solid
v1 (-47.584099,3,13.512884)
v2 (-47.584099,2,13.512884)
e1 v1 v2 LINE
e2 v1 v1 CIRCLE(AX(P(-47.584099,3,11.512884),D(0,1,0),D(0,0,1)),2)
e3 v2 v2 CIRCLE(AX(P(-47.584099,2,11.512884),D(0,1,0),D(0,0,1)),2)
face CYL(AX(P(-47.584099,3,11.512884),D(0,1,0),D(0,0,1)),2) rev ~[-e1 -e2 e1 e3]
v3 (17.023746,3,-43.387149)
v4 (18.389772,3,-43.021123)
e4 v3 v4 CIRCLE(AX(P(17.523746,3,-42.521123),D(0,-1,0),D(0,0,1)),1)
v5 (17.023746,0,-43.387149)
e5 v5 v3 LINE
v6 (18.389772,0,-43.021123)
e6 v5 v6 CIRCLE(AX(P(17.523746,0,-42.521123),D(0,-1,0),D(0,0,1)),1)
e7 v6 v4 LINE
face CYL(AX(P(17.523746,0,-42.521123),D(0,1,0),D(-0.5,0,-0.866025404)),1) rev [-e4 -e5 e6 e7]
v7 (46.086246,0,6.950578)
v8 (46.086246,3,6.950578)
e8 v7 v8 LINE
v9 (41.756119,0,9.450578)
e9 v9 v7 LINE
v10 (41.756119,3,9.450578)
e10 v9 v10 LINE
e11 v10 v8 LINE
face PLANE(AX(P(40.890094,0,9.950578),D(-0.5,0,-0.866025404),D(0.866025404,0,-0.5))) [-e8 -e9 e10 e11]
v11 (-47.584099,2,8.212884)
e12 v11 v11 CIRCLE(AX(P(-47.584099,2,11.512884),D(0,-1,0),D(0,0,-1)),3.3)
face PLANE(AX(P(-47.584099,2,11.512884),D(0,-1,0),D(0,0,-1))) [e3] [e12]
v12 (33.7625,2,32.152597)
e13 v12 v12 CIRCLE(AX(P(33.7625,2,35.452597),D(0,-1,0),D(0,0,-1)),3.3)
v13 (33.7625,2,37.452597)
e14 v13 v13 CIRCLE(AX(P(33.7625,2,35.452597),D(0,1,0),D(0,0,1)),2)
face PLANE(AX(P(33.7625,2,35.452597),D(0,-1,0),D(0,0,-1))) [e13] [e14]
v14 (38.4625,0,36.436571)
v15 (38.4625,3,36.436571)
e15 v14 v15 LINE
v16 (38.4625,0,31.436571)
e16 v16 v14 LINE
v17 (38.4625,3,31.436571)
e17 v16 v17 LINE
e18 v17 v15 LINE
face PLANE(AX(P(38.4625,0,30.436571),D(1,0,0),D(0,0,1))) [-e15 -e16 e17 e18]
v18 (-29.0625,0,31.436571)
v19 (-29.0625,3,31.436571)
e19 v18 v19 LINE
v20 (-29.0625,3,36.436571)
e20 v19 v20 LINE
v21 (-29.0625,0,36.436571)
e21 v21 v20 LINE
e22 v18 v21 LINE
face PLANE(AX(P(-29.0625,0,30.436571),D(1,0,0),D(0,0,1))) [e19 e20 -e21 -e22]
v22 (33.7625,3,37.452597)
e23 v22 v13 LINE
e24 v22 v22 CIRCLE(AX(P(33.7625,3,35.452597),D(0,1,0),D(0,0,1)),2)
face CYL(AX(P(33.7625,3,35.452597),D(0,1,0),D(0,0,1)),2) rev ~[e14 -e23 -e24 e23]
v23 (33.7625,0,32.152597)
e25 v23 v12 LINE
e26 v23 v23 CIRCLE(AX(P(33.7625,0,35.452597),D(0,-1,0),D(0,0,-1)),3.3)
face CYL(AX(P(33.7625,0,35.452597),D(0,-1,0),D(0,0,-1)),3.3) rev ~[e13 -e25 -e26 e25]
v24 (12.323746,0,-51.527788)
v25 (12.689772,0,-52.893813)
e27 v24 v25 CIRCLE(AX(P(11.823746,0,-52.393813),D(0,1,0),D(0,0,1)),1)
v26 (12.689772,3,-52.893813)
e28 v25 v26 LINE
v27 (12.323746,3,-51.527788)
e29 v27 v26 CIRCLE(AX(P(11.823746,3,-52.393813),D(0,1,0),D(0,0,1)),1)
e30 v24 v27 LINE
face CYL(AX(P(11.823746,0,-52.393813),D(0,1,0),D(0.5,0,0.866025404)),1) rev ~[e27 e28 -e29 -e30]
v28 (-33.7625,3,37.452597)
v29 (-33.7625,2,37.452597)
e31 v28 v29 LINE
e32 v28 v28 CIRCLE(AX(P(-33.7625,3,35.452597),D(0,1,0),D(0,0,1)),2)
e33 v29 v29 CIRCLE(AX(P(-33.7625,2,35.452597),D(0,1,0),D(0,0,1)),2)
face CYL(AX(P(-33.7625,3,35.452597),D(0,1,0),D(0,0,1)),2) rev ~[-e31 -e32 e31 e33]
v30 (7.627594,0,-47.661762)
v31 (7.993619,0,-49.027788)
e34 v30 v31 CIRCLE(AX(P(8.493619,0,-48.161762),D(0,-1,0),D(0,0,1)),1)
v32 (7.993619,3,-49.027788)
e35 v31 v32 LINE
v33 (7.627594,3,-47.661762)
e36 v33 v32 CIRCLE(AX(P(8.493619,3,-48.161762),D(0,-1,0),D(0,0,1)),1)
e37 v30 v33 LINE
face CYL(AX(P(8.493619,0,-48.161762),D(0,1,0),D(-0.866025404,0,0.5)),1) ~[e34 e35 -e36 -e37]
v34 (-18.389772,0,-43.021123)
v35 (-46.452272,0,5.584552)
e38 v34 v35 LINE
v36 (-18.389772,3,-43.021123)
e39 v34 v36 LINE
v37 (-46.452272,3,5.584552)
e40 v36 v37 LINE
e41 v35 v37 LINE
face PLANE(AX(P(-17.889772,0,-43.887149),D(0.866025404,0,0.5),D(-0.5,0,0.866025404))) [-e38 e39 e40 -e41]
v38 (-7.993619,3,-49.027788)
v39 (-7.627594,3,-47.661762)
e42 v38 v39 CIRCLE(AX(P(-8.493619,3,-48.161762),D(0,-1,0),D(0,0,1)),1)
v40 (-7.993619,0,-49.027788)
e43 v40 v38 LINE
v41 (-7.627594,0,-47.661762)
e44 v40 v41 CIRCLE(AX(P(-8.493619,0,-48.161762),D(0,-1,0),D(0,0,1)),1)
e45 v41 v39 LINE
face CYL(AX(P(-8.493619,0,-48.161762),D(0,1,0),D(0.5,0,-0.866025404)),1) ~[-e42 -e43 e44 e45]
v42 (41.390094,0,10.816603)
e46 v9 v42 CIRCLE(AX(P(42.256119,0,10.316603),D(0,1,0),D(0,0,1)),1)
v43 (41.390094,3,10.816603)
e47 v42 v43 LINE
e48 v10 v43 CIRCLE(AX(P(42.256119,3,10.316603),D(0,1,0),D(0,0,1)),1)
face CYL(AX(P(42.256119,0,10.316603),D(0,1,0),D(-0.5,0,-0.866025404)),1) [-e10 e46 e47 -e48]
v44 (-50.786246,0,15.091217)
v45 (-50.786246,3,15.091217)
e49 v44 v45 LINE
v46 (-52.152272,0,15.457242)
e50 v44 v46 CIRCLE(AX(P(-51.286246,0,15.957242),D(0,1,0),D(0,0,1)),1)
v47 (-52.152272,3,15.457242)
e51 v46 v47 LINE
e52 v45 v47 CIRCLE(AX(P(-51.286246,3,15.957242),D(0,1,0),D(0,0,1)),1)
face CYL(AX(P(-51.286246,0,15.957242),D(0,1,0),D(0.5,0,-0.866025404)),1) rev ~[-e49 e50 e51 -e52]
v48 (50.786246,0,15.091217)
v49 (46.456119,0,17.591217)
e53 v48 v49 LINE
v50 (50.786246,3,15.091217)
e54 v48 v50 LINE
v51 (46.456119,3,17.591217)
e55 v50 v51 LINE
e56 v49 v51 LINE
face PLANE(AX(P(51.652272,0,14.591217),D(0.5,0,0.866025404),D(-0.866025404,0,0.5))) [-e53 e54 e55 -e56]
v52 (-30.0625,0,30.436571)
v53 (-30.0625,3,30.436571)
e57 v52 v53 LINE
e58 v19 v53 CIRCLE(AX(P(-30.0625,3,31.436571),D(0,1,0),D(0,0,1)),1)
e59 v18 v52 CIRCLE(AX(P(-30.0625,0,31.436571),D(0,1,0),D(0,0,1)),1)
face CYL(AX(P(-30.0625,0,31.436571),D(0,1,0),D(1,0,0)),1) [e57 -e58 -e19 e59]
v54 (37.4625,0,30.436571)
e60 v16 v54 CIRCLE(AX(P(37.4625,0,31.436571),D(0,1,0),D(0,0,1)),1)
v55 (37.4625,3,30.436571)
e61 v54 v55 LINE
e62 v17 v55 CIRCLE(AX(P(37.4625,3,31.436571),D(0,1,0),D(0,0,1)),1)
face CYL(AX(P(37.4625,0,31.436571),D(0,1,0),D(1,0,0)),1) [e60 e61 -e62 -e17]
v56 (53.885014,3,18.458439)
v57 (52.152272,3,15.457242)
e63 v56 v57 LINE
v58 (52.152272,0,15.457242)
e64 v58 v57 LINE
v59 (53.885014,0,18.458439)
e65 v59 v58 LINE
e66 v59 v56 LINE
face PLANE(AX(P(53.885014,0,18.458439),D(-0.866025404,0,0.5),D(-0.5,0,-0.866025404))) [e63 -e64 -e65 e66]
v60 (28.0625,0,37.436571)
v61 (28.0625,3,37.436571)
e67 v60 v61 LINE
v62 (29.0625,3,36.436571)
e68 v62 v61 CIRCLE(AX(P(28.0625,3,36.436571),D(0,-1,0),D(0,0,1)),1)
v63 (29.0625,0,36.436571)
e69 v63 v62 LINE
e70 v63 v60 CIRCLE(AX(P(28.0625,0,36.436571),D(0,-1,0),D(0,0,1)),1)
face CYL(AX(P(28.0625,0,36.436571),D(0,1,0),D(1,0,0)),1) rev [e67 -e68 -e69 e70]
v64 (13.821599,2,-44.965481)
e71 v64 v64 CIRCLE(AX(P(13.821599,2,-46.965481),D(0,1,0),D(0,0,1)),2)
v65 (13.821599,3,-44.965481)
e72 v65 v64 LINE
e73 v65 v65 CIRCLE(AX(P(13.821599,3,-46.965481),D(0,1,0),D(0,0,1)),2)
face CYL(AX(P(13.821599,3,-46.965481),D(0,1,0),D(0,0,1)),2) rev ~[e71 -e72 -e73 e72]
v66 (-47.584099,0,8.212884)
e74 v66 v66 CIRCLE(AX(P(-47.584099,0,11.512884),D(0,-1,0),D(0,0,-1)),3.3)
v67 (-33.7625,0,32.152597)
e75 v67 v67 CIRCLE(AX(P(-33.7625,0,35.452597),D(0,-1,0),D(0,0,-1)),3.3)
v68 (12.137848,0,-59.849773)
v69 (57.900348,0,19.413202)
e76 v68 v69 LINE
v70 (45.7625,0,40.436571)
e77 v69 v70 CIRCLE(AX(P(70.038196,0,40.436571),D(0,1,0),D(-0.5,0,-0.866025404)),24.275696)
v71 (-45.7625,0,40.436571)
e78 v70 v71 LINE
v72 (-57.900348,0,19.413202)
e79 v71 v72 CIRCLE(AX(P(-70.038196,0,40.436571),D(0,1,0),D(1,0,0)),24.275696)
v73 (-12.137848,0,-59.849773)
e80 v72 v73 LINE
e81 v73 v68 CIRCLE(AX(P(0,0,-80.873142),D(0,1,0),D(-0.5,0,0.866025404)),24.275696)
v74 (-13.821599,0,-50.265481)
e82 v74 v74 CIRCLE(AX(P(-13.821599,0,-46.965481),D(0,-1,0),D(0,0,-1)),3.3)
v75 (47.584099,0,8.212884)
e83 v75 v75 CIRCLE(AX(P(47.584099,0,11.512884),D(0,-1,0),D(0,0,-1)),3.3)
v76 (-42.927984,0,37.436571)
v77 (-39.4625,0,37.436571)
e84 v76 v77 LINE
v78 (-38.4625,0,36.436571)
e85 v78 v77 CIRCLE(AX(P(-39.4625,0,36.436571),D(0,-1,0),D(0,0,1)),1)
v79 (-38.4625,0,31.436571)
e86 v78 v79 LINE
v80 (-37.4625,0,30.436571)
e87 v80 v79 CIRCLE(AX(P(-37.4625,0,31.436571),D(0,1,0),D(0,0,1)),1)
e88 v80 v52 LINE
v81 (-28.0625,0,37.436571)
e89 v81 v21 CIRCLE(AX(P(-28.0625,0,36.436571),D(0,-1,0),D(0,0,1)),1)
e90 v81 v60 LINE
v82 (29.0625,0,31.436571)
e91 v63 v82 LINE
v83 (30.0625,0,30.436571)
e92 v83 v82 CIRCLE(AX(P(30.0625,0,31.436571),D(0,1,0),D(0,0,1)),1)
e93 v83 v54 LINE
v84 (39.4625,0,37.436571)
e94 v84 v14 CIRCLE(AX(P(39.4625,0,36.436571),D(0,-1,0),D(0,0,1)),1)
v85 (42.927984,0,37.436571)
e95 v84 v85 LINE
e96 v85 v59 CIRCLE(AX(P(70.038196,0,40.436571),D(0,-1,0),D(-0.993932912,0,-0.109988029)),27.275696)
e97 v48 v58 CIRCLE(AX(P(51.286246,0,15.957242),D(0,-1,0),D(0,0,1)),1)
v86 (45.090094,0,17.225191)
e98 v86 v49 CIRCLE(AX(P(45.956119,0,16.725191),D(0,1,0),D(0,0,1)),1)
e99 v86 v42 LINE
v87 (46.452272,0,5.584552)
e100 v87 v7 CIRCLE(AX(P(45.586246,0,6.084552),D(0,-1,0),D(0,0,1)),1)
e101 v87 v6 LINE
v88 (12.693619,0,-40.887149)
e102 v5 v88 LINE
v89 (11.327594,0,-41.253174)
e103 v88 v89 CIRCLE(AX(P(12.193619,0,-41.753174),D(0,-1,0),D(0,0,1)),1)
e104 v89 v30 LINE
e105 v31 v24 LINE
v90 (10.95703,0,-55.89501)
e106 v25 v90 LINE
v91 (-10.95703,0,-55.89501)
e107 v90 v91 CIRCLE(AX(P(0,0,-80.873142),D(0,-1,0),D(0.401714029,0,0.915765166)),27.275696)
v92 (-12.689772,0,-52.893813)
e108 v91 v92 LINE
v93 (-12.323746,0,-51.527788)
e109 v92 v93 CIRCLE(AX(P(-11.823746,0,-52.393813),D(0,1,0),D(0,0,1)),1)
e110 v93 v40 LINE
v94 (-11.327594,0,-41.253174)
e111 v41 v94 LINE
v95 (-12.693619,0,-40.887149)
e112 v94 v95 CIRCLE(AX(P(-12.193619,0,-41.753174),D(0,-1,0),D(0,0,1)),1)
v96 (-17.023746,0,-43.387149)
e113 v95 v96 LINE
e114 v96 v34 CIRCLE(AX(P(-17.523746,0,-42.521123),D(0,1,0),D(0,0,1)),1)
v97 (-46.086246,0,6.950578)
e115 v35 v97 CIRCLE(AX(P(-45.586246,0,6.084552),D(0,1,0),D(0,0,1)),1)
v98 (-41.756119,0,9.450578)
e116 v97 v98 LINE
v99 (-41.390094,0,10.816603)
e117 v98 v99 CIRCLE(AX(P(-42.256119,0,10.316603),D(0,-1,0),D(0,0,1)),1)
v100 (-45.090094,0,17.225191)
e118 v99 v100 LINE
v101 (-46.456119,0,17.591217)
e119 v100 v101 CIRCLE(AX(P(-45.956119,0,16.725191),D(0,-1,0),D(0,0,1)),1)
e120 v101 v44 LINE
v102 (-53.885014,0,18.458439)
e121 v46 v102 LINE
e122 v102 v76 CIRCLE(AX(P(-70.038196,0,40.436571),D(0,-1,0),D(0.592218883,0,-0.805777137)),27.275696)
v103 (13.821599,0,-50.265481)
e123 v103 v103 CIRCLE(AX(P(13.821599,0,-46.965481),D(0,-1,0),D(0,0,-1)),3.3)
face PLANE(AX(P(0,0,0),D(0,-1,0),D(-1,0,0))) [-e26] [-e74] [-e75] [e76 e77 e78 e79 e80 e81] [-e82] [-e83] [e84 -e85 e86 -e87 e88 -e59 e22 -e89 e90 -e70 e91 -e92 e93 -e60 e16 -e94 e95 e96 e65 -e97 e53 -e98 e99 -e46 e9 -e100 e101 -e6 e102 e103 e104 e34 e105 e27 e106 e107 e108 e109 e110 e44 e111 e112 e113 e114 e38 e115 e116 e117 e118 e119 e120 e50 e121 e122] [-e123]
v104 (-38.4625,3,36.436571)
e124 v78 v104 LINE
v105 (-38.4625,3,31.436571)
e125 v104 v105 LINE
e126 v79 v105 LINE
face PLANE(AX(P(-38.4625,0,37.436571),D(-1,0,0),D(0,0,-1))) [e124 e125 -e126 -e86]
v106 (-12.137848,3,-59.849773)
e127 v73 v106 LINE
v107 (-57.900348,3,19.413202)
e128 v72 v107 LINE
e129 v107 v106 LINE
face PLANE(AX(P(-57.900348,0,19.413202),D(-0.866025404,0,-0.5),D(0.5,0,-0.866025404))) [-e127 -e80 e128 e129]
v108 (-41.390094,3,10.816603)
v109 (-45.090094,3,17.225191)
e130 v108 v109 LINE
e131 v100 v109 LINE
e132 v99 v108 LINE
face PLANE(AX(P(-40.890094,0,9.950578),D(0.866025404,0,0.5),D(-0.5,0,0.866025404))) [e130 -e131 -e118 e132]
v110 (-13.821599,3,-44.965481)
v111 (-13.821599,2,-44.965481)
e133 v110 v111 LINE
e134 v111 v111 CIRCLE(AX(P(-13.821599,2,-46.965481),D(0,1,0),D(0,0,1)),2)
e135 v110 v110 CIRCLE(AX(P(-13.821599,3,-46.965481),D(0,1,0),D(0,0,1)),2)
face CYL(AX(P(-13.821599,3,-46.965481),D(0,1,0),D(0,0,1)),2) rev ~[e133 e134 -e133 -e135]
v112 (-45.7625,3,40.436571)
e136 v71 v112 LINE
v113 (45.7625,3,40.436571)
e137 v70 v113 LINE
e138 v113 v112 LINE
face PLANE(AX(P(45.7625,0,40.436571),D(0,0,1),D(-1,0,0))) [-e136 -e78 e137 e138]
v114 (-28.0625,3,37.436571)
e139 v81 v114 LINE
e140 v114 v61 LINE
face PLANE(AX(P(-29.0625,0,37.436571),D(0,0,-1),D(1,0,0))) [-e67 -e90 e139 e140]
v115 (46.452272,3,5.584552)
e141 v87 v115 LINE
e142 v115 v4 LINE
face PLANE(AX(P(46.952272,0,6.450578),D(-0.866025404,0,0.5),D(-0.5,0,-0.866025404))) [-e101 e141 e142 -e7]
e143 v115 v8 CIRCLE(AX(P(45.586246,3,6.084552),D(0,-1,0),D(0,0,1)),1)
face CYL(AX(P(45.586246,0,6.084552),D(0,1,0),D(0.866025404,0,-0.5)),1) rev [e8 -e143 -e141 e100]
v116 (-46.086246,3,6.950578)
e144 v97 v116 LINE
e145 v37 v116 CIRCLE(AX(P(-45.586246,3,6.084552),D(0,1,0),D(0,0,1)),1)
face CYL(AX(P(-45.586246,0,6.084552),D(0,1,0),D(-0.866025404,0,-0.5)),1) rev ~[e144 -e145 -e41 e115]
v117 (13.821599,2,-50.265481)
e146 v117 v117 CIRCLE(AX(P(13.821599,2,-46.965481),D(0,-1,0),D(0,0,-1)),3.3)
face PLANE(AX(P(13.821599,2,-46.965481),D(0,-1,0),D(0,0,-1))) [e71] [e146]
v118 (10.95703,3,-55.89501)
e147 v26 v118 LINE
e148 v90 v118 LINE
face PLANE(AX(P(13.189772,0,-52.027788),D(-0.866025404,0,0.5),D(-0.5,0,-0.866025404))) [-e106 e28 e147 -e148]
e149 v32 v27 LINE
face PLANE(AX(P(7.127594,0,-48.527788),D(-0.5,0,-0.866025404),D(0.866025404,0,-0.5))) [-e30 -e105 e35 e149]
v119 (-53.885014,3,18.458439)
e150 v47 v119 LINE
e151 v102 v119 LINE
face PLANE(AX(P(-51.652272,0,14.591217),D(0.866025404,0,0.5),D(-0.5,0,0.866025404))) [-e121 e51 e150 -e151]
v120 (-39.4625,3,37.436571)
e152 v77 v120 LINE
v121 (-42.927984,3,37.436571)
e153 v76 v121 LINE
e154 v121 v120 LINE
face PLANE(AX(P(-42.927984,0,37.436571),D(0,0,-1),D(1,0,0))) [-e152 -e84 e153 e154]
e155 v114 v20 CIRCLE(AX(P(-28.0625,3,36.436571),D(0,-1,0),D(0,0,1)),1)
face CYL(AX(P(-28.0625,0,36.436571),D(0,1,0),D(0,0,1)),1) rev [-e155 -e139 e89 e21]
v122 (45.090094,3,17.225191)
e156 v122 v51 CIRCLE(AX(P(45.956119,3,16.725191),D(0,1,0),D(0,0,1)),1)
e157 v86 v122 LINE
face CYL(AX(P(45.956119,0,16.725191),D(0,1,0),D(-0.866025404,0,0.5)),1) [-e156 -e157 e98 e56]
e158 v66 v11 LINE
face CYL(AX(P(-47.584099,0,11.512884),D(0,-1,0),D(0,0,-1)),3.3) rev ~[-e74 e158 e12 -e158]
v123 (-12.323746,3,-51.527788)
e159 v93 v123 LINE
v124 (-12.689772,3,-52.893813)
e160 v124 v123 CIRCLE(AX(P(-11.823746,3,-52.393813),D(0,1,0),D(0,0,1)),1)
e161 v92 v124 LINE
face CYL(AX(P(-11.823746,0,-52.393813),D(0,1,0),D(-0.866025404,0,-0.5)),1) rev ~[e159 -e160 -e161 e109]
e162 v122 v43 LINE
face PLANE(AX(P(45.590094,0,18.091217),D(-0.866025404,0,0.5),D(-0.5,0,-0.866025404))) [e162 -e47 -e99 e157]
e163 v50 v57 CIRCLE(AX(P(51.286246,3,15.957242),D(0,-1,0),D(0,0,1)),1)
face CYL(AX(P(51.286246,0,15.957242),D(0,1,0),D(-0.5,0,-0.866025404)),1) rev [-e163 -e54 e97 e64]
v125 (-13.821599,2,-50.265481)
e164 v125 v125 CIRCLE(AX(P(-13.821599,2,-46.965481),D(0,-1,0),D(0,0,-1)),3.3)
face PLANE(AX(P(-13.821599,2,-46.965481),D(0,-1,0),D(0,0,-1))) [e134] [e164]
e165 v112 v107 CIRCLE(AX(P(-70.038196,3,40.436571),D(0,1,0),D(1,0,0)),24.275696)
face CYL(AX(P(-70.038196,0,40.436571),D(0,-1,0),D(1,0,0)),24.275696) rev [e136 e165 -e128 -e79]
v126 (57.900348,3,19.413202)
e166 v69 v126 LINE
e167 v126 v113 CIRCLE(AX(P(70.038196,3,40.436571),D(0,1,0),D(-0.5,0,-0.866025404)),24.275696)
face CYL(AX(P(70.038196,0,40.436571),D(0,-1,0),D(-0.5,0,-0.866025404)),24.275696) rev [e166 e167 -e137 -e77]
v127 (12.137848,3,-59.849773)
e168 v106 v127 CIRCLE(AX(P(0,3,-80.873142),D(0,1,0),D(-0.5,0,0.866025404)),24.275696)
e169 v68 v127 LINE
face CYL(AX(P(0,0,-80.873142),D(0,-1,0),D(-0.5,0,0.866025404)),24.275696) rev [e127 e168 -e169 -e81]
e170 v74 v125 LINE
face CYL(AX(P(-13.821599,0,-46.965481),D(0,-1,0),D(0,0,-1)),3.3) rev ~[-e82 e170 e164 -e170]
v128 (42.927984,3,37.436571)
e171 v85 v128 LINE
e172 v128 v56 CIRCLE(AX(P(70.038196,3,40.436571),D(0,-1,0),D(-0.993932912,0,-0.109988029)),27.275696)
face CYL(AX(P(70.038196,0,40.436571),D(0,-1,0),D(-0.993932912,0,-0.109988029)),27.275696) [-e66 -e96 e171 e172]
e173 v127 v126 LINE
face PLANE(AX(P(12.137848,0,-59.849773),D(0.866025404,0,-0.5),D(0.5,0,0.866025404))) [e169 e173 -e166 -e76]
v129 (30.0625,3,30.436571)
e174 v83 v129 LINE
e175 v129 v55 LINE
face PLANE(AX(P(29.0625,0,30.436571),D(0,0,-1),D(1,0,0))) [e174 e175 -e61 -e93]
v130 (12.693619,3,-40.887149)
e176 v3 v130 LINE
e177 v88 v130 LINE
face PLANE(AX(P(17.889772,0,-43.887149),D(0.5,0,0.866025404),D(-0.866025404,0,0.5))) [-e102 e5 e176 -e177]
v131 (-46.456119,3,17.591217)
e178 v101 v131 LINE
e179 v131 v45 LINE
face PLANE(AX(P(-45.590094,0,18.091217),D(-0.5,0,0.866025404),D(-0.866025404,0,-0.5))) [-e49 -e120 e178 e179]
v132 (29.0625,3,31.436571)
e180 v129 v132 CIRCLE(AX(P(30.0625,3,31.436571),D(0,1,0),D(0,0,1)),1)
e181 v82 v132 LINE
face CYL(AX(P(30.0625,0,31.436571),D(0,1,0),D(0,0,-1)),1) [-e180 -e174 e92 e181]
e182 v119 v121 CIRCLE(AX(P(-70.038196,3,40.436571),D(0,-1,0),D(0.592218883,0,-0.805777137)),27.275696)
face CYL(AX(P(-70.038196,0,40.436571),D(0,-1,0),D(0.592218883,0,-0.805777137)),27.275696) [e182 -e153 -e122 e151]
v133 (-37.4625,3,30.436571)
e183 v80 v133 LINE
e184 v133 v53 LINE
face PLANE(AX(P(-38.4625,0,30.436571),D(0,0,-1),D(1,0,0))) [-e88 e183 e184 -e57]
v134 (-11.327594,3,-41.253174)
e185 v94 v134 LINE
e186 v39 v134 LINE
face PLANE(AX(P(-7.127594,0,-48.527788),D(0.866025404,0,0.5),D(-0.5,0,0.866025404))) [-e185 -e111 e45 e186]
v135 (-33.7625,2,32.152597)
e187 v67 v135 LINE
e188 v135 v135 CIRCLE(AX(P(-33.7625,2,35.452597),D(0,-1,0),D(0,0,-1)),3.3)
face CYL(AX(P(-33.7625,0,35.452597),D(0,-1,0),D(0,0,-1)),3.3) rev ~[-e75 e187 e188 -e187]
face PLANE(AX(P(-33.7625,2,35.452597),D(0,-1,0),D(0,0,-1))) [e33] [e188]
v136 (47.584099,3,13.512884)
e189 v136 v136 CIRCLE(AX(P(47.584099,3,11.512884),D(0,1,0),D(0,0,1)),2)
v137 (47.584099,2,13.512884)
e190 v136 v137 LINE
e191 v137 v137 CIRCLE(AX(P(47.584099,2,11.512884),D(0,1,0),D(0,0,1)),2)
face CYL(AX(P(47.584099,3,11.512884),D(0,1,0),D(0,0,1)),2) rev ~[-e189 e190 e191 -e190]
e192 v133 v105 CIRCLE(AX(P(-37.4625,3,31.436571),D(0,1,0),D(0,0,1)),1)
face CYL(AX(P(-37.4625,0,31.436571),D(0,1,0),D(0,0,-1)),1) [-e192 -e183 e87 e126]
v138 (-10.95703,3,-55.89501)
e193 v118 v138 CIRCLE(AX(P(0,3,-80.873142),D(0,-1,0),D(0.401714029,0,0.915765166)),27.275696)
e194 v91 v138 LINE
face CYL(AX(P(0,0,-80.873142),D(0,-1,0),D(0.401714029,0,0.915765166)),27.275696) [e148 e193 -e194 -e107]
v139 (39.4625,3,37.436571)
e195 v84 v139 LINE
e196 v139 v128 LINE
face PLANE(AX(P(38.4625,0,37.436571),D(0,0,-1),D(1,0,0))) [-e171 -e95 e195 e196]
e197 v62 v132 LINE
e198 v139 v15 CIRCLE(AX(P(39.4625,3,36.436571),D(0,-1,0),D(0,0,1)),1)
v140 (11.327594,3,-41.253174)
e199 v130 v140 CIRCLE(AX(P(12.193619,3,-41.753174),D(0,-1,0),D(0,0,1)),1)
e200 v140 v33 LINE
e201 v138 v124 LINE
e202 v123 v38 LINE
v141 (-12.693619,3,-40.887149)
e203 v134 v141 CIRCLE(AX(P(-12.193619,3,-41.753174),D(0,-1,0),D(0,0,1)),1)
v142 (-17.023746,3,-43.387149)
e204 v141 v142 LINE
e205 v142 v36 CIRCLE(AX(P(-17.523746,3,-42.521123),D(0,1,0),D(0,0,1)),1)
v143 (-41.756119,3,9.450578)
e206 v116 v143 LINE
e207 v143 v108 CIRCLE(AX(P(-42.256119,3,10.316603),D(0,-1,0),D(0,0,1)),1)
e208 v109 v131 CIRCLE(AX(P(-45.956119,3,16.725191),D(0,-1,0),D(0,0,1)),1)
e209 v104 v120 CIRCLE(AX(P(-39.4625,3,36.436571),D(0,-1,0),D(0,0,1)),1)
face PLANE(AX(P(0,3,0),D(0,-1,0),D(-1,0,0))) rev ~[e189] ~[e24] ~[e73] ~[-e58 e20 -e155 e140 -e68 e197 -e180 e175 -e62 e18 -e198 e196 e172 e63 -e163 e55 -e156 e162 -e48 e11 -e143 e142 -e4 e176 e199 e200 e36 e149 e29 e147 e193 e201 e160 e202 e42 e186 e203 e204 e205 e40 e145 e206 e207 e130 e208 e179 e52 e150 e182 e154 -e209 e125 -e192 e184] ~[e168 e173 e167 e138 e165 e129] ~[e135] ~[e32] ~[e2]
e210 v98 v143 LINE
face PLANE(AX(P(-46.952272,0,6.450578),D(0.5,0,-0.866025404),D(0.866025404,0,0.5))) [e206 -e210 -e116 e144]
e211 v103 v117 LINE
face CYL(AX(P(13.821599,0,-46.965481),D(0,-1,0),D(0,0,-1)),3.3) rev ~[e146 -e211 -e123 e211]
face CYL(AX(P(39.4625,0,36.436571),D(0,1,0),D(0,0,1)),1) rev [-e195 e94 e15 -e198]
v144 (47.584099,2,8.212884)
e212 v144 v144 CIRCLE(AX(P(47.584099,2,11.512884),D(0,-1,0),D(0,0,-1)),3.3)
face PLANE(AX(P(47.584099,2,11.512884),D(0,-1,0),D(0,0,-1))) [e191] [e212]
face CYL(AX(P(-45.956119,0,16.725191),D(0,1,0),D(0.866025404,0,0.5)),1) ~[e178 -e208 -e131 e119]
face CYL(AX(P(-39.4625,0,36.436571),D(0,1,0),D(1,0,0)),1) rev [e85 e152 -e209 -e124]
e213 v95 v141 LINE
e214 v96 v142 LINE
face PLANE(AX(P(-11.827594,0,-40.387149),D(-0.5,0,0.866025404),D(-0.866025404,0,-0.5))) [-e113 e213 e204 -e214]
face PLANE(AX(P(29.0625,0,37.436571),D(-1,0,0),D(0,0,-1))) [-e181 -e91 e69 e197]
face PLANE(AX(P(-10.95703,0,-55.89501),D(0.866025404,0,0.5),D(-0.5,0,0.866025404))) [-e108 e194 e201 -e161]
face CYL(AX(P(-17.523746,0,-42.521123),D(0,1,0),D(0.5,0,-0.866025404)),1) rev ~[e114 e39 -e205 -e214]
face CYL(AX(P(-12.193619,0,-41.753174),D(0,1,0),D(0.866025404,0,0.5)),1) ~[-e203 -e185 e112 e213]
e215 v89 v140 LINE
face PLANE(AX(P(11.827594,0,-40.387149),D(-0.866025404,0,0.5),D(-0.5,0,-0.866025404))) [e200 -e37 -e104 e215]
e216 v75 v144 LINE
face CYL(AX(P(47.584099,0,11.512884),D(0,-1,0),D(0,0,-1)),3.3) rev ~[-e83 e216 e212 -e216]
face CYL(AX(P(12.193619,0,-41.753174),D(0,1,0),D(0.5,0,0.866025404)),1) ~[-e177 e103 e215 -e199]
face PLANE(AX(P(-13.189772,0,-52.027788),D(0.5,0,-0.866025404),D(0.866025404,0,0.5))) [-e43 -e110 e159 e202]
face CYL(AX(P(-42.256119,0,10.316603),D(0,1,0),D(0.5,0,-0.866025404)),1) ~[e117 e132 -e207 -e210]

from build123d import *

# Parameters (mm, degrees)
BOSS_EXTRUDE2_DEPTH = 3
SKETCH3_R           = 2.0000000000000036
SKETCH3_R_2         = 1.9999999999999967
SKETCH3_R_3         = 2.0000000000000027
SKETCH3_R_4         = 2.0000000000000018
CUT_EXTRUDE1_DEPTH  = 84.32734015621716
FILLET2_R           = 1
SKETCH5_R           = 3.299999999999997
SKETCH5_R_2         = 3.3000000000000003
SKETCH5_R_3         = 3.2999999999998377
CUT_EXTRUDE3_DEPTH  = 2


with BuildPart() as part:
    # Sketch2 → Boss-Extrude2 (new body)
    with BuildSketch(Plane(origin=(0, 0, 0), x_dir=(1, 0, 0), z_dir=(0, 1, 0))):
        with BuildLine():
            Line((-57.900347822426866, -19.41320198612938), (-45.90034782242687, 1.3714077046971502))
            Line((-45.90034782242687, 1.3714077046971502), (-24.137847822426874, 39.065163404414825))
            Line((-24.137847822426874, 39.065163404414825), (-12.137847822426867, 59.849773095241346))
            ThreePointArc((-12.137847822426867, 59.849773095241346), (-2.0632e-13, 56.59744657337059), (12.137847822426314, 59.849773095241474))
            Line((12.137847822426314, 59.849773095241474), (24.13784782242651, 39.06516340441507))
            Line((24.13784782242651, 39.06516340441507), (45.90034782242685, 1.3714077046975783))
            Line((45.90034782242685, 1.3714077046975783), (57.90034782242704, -19.413201986128836))
            ThreePointArc((57.90034782242704, -19.413201986128836), (49.014826521872, -28.298723286684716), (45.76250000000075, -40.43657110911115))
            Line((45.76250000000075, -40.43657110911115), (21.762500000000745, -40.43657110911158))
            Line((21.762500000000745, -40.43657110911158), (-21.762499999999243, -40.436571109112386))
            Line((-21.762499999999243, -40.436571109112386), (-45.762499999999235, -40.43657110911281))
            ThreePointArc((-45.762499999999235, -40.43657110911281), (-49.01482652187049, -28.298723286685338), (-57.900347822426866, -19.41320198612938))
        make_face()
        with BuildLine():
            Line((11.82759378458235, 40.3871488520415), (11.32759378458234, 41.25317425582594))
            Line((11.32759378458234, 41.25317425582594), (7.1275937845823325, 48.52778764761524))
            Line((7.1275937845823325, 48.52778764761524), (13.189771611073091, 52.02778764761513))
            Line((13.189771611073091, 52.02778764761513), (10.95702958785254, 55.895010272027164))
            ThreePointArc((10.95702958785254, 55.895010272027164), (-3.1e-14, 53.59744657337001), (-10.95702958785254, 55.895010272027164))
            Line((-10.95702958785254, 55.895010272027164), (-13.189771611074285, 52.0277876476148))
            Line((-13.189771611074285, 52.0277876476148), (-7.127593784582693, 48.52778764761462))
            Line((-7.127593784582693, 48.52778764761462), (-11.327593784582492, 41.25317425582568))
            Line((-11.327593784582492, 41.25317425582568), (-11.827593784582703, 40.38714885204087))
            Line((-11.827593784582703, 40.38714885204087), (-17.889771611074185, 43.88714885204099))
            Line((-17.889771611074185, 43.88714885204099), (-21.53977161107411, 37.56516340441455))
            Line((-21.53977161107411, 37.56516340441455), (-43.30227161107358, -0.12859229530344518))
            Line((-43.30227161107358, -0.12859229530344518), (-46.95227161107352, -6.450577742929913))
            Line((-46.95227161107352, -6.450577742929913), (-40.890093784582575, -9.950577742929706))
            Line((-40.890093784582575, -9.950577742929706), (-45.59009378458257, -18.091216538503463))
            Line((-45.59009378458257, -18.091216538503463), (-51.65227161107341, -14.591216538503707))
            Line((-51.65227161107341, -14.591216538503707), (-53.88501363429374, -18.458439162915578))
            ThreePointArc((-53.88501363429374, -18.458439162915578), (-46.4167503105172, -26.798723286685323), (-42.92798404644063, -37.43657110911222))
            Line((-42.92798404644063, -37.43657110911222), (-38.46249999999932, -37.436571109112705))
            Line((-38.46249999999932, -37.436571109112705), (-38.46249999999945, -30.436571109112176))
            Line((-38.46249999999945, -30.436571109112176), (-30.062499999999865, -30.436571109112133))
            Line((-30.062499999999865, -30.436571109112133), (-29.062499999999424, -30.43657110911213))
            Line((-29.062499999999424, -30.43657110911213), (-29.062499999999286, -37.43657110911253))
            Line((-29.062499999999286, -37.43657110911253), (-21.762499999999292, -37.43657110911241))
            Line((-21.762499999999292, -37.43657110911241), (21.762500000000696, -37.4365711091116))
            Line((21.762500000000696, -37.4365711091116), (29.062500000000714, -37.436571109111476))
            Line((29.062500000000714, -37.436571109111476), (29.062500000000565, -30.436571109111707))
            Line((29.062500000000565, -30.436571109111707), (38.46250000000059, -30.436571109111636))
            Line((38.46250000000059, -30.436571109111636), (38.46250000000072, -37.436571109111306))
            Line((38.46250000000072, -37.436571109111306), (42.927984046442106, -37.43657110911252))
            ThreePointArc((42.927984046442106, -37.43657110911252), (46.41675031051867, -26.798723286684776), (53.88501363429554, -18.458439162914214))
            Line((53.88501363429554, -18.458439162914214), (51.65227161107371, -14.591216538502506))
            Line((51.65227161107371, -14.591216538502506), (45.59009378458266, -18.09121653850257))
            Line((45.59009378458266, -18.09121653850257), (40.890093784582604, -9.950577742928846))
            Line((40.890093784582604, -9.950577742928846), (46.95227161107361, -6.450577742928804))
            Line((46.95227161107361, -6.450577742928804), (43.30227161107357, -0.12859229530243052))
            Line((43.30227161107357, -0.12859229530243052), (21.539771611073228, 37.565163404415046))
            Line((21.539771611073228, 37.565163404415046), (17.88977161107317, 43.88714885204144))
            Line((17.88977161107317, 43.88714885204144), (11.82759378458235, 40.3871488520415))
        make_face(mode=Mode.SUBTRACT)
    extrude(amount=BOSS_EXTRUDE2_DEPTH)

    # Sketch3 → Cut-Extrude1 (cut, through all)
    with BuildSketch(Plane(origin=(0, 3, 0), x_dir=(1, 0, 0), z_dir=(0, 1, 0))):
        with Locations(Location((33.762500000000074, -35.45259651289613, 0), (0, 0, 270))):
            Circle(SKETCH3_R)
        with Locations(Location((-33.76249999999959, -35.45259651289661, 0), (0, 0, 270))):
            Circle(SKETCH3_R_2)
        with Locations(Location((-47.58409921028776, -11.5128844388239, 0), (0, 0, 270))):
            Circle(SKETCH3_R_3)
        with Locations(Location((47.58409921028791, -11.512884438823233, 0), (0, 0, 270))):
            Circle(SKETCH3_R_3)
        with Locations(Location((13.821599210288047, 46.96548095172012, 0), (0, 0, 270))):
            Circle(SKETCH3_R)
        with Locations(Location((-13.821599210288047, 46.96548095172012, 0), (0, 0, 270))):
            Circle(SKETCH3_R_4)
    extrude(amount=-CUT_EXTRUDE1_DEPTH, mode=Mode.SUBTRACT)

    # Fillet2
    fillet2_edges = [part.edges().sort_by_distance(p)[0] for p in [
        (-46.95227161107352, 1.5, 6.450577742929913),
        (-40.890093784582575, 1.5, 9.950577742929706),
        (-45.59009378458257, 1.5, 18.091216538503463),
        (-51.65227161107341, 1.5, 14.591216538503707),
        (-38.46249999999932, 1.5, 37.436571109112705),
        (-38.46249999999945, 1.5, 30.436571109112176),
        (-29.062499999999424, 1.5, 30.43657110911213),
        (-29.062499999999286, 1.5, 37.43657110911253),
        (29.062500000000714, 1.5, 37.436571109111476),
        (29.062500000000565, 1.5, 30.436571109111707),
        (38.46250000000059, 1.5, 30.436571109111636),
        (38.46250000000072, 1.5, 37.436571109111306),
        (51.65227161107371, 1.5, 14.591216538502506),
        (45.59009378458266, 1.5, 18.09121653850257),
        (40.890093784582604, 1.5, 9.950577742928846),
        (46.95227161107361, 1.5, 6.450577742928804),
        (17.88977161107317, 1.5, -43.88714885204144),
        (11.82759378458235, 1.5, -40.3871488520415),
        (7.1275937845823325, 1.5, -48.52778764761524),
        (13.189771611073091, 1.5, -52.02778764761513),
        (-13.189771611074285, 1.5, -52.0277876476148),
        (-7.127593784582693, 1.5, -48.52778764761462),
        (-11.827593784582703, 1.5, -40.38714885204087),
        (-17.889771611074185, 1.5, -43.88714885204099),
    ]]
    fillet(fillet2_edges, radius=FILLET2_R)

    # Sketch5 → Cut-Extrude3 (cut)
    with BuildSketch(Plane.XZ):
        with Locations(Location((47.58409921028791, 11.512884438823233, 0), (0, 0, 270))):
            Circle(SKETCH5_R)
        with Locations(Location((33.762500000000074, 35.45259651289613, 0), (0, 0, 270))):
            Circle(SKETCH5_R)
        with Locations(Location((-13.821599210288472, -46.96548095172, 0), (0, 0, 270))):
            Circle(SKETCH5_R_2)
        with Locations(Location((13.821599210287625, -46.96548095172023, 0), (0, 0, 270))):
            Circle(SKETCH5_R_2)
        with Locations(Location((-33.76249999999945, 35.45259651289674, 0), (0, 0, 270))):
            Circle(SKETCH5_R)
        with Locations(Location((-47.5840992102877, 11.512884438824086, 0), (0, 0, 270))):
            Circle(SKETCH5_R_3)
    extrude(amount=-CUT_EXTRUDE3_DEPTH, mode=Mode.SUBTRACT)


solid = part.part
